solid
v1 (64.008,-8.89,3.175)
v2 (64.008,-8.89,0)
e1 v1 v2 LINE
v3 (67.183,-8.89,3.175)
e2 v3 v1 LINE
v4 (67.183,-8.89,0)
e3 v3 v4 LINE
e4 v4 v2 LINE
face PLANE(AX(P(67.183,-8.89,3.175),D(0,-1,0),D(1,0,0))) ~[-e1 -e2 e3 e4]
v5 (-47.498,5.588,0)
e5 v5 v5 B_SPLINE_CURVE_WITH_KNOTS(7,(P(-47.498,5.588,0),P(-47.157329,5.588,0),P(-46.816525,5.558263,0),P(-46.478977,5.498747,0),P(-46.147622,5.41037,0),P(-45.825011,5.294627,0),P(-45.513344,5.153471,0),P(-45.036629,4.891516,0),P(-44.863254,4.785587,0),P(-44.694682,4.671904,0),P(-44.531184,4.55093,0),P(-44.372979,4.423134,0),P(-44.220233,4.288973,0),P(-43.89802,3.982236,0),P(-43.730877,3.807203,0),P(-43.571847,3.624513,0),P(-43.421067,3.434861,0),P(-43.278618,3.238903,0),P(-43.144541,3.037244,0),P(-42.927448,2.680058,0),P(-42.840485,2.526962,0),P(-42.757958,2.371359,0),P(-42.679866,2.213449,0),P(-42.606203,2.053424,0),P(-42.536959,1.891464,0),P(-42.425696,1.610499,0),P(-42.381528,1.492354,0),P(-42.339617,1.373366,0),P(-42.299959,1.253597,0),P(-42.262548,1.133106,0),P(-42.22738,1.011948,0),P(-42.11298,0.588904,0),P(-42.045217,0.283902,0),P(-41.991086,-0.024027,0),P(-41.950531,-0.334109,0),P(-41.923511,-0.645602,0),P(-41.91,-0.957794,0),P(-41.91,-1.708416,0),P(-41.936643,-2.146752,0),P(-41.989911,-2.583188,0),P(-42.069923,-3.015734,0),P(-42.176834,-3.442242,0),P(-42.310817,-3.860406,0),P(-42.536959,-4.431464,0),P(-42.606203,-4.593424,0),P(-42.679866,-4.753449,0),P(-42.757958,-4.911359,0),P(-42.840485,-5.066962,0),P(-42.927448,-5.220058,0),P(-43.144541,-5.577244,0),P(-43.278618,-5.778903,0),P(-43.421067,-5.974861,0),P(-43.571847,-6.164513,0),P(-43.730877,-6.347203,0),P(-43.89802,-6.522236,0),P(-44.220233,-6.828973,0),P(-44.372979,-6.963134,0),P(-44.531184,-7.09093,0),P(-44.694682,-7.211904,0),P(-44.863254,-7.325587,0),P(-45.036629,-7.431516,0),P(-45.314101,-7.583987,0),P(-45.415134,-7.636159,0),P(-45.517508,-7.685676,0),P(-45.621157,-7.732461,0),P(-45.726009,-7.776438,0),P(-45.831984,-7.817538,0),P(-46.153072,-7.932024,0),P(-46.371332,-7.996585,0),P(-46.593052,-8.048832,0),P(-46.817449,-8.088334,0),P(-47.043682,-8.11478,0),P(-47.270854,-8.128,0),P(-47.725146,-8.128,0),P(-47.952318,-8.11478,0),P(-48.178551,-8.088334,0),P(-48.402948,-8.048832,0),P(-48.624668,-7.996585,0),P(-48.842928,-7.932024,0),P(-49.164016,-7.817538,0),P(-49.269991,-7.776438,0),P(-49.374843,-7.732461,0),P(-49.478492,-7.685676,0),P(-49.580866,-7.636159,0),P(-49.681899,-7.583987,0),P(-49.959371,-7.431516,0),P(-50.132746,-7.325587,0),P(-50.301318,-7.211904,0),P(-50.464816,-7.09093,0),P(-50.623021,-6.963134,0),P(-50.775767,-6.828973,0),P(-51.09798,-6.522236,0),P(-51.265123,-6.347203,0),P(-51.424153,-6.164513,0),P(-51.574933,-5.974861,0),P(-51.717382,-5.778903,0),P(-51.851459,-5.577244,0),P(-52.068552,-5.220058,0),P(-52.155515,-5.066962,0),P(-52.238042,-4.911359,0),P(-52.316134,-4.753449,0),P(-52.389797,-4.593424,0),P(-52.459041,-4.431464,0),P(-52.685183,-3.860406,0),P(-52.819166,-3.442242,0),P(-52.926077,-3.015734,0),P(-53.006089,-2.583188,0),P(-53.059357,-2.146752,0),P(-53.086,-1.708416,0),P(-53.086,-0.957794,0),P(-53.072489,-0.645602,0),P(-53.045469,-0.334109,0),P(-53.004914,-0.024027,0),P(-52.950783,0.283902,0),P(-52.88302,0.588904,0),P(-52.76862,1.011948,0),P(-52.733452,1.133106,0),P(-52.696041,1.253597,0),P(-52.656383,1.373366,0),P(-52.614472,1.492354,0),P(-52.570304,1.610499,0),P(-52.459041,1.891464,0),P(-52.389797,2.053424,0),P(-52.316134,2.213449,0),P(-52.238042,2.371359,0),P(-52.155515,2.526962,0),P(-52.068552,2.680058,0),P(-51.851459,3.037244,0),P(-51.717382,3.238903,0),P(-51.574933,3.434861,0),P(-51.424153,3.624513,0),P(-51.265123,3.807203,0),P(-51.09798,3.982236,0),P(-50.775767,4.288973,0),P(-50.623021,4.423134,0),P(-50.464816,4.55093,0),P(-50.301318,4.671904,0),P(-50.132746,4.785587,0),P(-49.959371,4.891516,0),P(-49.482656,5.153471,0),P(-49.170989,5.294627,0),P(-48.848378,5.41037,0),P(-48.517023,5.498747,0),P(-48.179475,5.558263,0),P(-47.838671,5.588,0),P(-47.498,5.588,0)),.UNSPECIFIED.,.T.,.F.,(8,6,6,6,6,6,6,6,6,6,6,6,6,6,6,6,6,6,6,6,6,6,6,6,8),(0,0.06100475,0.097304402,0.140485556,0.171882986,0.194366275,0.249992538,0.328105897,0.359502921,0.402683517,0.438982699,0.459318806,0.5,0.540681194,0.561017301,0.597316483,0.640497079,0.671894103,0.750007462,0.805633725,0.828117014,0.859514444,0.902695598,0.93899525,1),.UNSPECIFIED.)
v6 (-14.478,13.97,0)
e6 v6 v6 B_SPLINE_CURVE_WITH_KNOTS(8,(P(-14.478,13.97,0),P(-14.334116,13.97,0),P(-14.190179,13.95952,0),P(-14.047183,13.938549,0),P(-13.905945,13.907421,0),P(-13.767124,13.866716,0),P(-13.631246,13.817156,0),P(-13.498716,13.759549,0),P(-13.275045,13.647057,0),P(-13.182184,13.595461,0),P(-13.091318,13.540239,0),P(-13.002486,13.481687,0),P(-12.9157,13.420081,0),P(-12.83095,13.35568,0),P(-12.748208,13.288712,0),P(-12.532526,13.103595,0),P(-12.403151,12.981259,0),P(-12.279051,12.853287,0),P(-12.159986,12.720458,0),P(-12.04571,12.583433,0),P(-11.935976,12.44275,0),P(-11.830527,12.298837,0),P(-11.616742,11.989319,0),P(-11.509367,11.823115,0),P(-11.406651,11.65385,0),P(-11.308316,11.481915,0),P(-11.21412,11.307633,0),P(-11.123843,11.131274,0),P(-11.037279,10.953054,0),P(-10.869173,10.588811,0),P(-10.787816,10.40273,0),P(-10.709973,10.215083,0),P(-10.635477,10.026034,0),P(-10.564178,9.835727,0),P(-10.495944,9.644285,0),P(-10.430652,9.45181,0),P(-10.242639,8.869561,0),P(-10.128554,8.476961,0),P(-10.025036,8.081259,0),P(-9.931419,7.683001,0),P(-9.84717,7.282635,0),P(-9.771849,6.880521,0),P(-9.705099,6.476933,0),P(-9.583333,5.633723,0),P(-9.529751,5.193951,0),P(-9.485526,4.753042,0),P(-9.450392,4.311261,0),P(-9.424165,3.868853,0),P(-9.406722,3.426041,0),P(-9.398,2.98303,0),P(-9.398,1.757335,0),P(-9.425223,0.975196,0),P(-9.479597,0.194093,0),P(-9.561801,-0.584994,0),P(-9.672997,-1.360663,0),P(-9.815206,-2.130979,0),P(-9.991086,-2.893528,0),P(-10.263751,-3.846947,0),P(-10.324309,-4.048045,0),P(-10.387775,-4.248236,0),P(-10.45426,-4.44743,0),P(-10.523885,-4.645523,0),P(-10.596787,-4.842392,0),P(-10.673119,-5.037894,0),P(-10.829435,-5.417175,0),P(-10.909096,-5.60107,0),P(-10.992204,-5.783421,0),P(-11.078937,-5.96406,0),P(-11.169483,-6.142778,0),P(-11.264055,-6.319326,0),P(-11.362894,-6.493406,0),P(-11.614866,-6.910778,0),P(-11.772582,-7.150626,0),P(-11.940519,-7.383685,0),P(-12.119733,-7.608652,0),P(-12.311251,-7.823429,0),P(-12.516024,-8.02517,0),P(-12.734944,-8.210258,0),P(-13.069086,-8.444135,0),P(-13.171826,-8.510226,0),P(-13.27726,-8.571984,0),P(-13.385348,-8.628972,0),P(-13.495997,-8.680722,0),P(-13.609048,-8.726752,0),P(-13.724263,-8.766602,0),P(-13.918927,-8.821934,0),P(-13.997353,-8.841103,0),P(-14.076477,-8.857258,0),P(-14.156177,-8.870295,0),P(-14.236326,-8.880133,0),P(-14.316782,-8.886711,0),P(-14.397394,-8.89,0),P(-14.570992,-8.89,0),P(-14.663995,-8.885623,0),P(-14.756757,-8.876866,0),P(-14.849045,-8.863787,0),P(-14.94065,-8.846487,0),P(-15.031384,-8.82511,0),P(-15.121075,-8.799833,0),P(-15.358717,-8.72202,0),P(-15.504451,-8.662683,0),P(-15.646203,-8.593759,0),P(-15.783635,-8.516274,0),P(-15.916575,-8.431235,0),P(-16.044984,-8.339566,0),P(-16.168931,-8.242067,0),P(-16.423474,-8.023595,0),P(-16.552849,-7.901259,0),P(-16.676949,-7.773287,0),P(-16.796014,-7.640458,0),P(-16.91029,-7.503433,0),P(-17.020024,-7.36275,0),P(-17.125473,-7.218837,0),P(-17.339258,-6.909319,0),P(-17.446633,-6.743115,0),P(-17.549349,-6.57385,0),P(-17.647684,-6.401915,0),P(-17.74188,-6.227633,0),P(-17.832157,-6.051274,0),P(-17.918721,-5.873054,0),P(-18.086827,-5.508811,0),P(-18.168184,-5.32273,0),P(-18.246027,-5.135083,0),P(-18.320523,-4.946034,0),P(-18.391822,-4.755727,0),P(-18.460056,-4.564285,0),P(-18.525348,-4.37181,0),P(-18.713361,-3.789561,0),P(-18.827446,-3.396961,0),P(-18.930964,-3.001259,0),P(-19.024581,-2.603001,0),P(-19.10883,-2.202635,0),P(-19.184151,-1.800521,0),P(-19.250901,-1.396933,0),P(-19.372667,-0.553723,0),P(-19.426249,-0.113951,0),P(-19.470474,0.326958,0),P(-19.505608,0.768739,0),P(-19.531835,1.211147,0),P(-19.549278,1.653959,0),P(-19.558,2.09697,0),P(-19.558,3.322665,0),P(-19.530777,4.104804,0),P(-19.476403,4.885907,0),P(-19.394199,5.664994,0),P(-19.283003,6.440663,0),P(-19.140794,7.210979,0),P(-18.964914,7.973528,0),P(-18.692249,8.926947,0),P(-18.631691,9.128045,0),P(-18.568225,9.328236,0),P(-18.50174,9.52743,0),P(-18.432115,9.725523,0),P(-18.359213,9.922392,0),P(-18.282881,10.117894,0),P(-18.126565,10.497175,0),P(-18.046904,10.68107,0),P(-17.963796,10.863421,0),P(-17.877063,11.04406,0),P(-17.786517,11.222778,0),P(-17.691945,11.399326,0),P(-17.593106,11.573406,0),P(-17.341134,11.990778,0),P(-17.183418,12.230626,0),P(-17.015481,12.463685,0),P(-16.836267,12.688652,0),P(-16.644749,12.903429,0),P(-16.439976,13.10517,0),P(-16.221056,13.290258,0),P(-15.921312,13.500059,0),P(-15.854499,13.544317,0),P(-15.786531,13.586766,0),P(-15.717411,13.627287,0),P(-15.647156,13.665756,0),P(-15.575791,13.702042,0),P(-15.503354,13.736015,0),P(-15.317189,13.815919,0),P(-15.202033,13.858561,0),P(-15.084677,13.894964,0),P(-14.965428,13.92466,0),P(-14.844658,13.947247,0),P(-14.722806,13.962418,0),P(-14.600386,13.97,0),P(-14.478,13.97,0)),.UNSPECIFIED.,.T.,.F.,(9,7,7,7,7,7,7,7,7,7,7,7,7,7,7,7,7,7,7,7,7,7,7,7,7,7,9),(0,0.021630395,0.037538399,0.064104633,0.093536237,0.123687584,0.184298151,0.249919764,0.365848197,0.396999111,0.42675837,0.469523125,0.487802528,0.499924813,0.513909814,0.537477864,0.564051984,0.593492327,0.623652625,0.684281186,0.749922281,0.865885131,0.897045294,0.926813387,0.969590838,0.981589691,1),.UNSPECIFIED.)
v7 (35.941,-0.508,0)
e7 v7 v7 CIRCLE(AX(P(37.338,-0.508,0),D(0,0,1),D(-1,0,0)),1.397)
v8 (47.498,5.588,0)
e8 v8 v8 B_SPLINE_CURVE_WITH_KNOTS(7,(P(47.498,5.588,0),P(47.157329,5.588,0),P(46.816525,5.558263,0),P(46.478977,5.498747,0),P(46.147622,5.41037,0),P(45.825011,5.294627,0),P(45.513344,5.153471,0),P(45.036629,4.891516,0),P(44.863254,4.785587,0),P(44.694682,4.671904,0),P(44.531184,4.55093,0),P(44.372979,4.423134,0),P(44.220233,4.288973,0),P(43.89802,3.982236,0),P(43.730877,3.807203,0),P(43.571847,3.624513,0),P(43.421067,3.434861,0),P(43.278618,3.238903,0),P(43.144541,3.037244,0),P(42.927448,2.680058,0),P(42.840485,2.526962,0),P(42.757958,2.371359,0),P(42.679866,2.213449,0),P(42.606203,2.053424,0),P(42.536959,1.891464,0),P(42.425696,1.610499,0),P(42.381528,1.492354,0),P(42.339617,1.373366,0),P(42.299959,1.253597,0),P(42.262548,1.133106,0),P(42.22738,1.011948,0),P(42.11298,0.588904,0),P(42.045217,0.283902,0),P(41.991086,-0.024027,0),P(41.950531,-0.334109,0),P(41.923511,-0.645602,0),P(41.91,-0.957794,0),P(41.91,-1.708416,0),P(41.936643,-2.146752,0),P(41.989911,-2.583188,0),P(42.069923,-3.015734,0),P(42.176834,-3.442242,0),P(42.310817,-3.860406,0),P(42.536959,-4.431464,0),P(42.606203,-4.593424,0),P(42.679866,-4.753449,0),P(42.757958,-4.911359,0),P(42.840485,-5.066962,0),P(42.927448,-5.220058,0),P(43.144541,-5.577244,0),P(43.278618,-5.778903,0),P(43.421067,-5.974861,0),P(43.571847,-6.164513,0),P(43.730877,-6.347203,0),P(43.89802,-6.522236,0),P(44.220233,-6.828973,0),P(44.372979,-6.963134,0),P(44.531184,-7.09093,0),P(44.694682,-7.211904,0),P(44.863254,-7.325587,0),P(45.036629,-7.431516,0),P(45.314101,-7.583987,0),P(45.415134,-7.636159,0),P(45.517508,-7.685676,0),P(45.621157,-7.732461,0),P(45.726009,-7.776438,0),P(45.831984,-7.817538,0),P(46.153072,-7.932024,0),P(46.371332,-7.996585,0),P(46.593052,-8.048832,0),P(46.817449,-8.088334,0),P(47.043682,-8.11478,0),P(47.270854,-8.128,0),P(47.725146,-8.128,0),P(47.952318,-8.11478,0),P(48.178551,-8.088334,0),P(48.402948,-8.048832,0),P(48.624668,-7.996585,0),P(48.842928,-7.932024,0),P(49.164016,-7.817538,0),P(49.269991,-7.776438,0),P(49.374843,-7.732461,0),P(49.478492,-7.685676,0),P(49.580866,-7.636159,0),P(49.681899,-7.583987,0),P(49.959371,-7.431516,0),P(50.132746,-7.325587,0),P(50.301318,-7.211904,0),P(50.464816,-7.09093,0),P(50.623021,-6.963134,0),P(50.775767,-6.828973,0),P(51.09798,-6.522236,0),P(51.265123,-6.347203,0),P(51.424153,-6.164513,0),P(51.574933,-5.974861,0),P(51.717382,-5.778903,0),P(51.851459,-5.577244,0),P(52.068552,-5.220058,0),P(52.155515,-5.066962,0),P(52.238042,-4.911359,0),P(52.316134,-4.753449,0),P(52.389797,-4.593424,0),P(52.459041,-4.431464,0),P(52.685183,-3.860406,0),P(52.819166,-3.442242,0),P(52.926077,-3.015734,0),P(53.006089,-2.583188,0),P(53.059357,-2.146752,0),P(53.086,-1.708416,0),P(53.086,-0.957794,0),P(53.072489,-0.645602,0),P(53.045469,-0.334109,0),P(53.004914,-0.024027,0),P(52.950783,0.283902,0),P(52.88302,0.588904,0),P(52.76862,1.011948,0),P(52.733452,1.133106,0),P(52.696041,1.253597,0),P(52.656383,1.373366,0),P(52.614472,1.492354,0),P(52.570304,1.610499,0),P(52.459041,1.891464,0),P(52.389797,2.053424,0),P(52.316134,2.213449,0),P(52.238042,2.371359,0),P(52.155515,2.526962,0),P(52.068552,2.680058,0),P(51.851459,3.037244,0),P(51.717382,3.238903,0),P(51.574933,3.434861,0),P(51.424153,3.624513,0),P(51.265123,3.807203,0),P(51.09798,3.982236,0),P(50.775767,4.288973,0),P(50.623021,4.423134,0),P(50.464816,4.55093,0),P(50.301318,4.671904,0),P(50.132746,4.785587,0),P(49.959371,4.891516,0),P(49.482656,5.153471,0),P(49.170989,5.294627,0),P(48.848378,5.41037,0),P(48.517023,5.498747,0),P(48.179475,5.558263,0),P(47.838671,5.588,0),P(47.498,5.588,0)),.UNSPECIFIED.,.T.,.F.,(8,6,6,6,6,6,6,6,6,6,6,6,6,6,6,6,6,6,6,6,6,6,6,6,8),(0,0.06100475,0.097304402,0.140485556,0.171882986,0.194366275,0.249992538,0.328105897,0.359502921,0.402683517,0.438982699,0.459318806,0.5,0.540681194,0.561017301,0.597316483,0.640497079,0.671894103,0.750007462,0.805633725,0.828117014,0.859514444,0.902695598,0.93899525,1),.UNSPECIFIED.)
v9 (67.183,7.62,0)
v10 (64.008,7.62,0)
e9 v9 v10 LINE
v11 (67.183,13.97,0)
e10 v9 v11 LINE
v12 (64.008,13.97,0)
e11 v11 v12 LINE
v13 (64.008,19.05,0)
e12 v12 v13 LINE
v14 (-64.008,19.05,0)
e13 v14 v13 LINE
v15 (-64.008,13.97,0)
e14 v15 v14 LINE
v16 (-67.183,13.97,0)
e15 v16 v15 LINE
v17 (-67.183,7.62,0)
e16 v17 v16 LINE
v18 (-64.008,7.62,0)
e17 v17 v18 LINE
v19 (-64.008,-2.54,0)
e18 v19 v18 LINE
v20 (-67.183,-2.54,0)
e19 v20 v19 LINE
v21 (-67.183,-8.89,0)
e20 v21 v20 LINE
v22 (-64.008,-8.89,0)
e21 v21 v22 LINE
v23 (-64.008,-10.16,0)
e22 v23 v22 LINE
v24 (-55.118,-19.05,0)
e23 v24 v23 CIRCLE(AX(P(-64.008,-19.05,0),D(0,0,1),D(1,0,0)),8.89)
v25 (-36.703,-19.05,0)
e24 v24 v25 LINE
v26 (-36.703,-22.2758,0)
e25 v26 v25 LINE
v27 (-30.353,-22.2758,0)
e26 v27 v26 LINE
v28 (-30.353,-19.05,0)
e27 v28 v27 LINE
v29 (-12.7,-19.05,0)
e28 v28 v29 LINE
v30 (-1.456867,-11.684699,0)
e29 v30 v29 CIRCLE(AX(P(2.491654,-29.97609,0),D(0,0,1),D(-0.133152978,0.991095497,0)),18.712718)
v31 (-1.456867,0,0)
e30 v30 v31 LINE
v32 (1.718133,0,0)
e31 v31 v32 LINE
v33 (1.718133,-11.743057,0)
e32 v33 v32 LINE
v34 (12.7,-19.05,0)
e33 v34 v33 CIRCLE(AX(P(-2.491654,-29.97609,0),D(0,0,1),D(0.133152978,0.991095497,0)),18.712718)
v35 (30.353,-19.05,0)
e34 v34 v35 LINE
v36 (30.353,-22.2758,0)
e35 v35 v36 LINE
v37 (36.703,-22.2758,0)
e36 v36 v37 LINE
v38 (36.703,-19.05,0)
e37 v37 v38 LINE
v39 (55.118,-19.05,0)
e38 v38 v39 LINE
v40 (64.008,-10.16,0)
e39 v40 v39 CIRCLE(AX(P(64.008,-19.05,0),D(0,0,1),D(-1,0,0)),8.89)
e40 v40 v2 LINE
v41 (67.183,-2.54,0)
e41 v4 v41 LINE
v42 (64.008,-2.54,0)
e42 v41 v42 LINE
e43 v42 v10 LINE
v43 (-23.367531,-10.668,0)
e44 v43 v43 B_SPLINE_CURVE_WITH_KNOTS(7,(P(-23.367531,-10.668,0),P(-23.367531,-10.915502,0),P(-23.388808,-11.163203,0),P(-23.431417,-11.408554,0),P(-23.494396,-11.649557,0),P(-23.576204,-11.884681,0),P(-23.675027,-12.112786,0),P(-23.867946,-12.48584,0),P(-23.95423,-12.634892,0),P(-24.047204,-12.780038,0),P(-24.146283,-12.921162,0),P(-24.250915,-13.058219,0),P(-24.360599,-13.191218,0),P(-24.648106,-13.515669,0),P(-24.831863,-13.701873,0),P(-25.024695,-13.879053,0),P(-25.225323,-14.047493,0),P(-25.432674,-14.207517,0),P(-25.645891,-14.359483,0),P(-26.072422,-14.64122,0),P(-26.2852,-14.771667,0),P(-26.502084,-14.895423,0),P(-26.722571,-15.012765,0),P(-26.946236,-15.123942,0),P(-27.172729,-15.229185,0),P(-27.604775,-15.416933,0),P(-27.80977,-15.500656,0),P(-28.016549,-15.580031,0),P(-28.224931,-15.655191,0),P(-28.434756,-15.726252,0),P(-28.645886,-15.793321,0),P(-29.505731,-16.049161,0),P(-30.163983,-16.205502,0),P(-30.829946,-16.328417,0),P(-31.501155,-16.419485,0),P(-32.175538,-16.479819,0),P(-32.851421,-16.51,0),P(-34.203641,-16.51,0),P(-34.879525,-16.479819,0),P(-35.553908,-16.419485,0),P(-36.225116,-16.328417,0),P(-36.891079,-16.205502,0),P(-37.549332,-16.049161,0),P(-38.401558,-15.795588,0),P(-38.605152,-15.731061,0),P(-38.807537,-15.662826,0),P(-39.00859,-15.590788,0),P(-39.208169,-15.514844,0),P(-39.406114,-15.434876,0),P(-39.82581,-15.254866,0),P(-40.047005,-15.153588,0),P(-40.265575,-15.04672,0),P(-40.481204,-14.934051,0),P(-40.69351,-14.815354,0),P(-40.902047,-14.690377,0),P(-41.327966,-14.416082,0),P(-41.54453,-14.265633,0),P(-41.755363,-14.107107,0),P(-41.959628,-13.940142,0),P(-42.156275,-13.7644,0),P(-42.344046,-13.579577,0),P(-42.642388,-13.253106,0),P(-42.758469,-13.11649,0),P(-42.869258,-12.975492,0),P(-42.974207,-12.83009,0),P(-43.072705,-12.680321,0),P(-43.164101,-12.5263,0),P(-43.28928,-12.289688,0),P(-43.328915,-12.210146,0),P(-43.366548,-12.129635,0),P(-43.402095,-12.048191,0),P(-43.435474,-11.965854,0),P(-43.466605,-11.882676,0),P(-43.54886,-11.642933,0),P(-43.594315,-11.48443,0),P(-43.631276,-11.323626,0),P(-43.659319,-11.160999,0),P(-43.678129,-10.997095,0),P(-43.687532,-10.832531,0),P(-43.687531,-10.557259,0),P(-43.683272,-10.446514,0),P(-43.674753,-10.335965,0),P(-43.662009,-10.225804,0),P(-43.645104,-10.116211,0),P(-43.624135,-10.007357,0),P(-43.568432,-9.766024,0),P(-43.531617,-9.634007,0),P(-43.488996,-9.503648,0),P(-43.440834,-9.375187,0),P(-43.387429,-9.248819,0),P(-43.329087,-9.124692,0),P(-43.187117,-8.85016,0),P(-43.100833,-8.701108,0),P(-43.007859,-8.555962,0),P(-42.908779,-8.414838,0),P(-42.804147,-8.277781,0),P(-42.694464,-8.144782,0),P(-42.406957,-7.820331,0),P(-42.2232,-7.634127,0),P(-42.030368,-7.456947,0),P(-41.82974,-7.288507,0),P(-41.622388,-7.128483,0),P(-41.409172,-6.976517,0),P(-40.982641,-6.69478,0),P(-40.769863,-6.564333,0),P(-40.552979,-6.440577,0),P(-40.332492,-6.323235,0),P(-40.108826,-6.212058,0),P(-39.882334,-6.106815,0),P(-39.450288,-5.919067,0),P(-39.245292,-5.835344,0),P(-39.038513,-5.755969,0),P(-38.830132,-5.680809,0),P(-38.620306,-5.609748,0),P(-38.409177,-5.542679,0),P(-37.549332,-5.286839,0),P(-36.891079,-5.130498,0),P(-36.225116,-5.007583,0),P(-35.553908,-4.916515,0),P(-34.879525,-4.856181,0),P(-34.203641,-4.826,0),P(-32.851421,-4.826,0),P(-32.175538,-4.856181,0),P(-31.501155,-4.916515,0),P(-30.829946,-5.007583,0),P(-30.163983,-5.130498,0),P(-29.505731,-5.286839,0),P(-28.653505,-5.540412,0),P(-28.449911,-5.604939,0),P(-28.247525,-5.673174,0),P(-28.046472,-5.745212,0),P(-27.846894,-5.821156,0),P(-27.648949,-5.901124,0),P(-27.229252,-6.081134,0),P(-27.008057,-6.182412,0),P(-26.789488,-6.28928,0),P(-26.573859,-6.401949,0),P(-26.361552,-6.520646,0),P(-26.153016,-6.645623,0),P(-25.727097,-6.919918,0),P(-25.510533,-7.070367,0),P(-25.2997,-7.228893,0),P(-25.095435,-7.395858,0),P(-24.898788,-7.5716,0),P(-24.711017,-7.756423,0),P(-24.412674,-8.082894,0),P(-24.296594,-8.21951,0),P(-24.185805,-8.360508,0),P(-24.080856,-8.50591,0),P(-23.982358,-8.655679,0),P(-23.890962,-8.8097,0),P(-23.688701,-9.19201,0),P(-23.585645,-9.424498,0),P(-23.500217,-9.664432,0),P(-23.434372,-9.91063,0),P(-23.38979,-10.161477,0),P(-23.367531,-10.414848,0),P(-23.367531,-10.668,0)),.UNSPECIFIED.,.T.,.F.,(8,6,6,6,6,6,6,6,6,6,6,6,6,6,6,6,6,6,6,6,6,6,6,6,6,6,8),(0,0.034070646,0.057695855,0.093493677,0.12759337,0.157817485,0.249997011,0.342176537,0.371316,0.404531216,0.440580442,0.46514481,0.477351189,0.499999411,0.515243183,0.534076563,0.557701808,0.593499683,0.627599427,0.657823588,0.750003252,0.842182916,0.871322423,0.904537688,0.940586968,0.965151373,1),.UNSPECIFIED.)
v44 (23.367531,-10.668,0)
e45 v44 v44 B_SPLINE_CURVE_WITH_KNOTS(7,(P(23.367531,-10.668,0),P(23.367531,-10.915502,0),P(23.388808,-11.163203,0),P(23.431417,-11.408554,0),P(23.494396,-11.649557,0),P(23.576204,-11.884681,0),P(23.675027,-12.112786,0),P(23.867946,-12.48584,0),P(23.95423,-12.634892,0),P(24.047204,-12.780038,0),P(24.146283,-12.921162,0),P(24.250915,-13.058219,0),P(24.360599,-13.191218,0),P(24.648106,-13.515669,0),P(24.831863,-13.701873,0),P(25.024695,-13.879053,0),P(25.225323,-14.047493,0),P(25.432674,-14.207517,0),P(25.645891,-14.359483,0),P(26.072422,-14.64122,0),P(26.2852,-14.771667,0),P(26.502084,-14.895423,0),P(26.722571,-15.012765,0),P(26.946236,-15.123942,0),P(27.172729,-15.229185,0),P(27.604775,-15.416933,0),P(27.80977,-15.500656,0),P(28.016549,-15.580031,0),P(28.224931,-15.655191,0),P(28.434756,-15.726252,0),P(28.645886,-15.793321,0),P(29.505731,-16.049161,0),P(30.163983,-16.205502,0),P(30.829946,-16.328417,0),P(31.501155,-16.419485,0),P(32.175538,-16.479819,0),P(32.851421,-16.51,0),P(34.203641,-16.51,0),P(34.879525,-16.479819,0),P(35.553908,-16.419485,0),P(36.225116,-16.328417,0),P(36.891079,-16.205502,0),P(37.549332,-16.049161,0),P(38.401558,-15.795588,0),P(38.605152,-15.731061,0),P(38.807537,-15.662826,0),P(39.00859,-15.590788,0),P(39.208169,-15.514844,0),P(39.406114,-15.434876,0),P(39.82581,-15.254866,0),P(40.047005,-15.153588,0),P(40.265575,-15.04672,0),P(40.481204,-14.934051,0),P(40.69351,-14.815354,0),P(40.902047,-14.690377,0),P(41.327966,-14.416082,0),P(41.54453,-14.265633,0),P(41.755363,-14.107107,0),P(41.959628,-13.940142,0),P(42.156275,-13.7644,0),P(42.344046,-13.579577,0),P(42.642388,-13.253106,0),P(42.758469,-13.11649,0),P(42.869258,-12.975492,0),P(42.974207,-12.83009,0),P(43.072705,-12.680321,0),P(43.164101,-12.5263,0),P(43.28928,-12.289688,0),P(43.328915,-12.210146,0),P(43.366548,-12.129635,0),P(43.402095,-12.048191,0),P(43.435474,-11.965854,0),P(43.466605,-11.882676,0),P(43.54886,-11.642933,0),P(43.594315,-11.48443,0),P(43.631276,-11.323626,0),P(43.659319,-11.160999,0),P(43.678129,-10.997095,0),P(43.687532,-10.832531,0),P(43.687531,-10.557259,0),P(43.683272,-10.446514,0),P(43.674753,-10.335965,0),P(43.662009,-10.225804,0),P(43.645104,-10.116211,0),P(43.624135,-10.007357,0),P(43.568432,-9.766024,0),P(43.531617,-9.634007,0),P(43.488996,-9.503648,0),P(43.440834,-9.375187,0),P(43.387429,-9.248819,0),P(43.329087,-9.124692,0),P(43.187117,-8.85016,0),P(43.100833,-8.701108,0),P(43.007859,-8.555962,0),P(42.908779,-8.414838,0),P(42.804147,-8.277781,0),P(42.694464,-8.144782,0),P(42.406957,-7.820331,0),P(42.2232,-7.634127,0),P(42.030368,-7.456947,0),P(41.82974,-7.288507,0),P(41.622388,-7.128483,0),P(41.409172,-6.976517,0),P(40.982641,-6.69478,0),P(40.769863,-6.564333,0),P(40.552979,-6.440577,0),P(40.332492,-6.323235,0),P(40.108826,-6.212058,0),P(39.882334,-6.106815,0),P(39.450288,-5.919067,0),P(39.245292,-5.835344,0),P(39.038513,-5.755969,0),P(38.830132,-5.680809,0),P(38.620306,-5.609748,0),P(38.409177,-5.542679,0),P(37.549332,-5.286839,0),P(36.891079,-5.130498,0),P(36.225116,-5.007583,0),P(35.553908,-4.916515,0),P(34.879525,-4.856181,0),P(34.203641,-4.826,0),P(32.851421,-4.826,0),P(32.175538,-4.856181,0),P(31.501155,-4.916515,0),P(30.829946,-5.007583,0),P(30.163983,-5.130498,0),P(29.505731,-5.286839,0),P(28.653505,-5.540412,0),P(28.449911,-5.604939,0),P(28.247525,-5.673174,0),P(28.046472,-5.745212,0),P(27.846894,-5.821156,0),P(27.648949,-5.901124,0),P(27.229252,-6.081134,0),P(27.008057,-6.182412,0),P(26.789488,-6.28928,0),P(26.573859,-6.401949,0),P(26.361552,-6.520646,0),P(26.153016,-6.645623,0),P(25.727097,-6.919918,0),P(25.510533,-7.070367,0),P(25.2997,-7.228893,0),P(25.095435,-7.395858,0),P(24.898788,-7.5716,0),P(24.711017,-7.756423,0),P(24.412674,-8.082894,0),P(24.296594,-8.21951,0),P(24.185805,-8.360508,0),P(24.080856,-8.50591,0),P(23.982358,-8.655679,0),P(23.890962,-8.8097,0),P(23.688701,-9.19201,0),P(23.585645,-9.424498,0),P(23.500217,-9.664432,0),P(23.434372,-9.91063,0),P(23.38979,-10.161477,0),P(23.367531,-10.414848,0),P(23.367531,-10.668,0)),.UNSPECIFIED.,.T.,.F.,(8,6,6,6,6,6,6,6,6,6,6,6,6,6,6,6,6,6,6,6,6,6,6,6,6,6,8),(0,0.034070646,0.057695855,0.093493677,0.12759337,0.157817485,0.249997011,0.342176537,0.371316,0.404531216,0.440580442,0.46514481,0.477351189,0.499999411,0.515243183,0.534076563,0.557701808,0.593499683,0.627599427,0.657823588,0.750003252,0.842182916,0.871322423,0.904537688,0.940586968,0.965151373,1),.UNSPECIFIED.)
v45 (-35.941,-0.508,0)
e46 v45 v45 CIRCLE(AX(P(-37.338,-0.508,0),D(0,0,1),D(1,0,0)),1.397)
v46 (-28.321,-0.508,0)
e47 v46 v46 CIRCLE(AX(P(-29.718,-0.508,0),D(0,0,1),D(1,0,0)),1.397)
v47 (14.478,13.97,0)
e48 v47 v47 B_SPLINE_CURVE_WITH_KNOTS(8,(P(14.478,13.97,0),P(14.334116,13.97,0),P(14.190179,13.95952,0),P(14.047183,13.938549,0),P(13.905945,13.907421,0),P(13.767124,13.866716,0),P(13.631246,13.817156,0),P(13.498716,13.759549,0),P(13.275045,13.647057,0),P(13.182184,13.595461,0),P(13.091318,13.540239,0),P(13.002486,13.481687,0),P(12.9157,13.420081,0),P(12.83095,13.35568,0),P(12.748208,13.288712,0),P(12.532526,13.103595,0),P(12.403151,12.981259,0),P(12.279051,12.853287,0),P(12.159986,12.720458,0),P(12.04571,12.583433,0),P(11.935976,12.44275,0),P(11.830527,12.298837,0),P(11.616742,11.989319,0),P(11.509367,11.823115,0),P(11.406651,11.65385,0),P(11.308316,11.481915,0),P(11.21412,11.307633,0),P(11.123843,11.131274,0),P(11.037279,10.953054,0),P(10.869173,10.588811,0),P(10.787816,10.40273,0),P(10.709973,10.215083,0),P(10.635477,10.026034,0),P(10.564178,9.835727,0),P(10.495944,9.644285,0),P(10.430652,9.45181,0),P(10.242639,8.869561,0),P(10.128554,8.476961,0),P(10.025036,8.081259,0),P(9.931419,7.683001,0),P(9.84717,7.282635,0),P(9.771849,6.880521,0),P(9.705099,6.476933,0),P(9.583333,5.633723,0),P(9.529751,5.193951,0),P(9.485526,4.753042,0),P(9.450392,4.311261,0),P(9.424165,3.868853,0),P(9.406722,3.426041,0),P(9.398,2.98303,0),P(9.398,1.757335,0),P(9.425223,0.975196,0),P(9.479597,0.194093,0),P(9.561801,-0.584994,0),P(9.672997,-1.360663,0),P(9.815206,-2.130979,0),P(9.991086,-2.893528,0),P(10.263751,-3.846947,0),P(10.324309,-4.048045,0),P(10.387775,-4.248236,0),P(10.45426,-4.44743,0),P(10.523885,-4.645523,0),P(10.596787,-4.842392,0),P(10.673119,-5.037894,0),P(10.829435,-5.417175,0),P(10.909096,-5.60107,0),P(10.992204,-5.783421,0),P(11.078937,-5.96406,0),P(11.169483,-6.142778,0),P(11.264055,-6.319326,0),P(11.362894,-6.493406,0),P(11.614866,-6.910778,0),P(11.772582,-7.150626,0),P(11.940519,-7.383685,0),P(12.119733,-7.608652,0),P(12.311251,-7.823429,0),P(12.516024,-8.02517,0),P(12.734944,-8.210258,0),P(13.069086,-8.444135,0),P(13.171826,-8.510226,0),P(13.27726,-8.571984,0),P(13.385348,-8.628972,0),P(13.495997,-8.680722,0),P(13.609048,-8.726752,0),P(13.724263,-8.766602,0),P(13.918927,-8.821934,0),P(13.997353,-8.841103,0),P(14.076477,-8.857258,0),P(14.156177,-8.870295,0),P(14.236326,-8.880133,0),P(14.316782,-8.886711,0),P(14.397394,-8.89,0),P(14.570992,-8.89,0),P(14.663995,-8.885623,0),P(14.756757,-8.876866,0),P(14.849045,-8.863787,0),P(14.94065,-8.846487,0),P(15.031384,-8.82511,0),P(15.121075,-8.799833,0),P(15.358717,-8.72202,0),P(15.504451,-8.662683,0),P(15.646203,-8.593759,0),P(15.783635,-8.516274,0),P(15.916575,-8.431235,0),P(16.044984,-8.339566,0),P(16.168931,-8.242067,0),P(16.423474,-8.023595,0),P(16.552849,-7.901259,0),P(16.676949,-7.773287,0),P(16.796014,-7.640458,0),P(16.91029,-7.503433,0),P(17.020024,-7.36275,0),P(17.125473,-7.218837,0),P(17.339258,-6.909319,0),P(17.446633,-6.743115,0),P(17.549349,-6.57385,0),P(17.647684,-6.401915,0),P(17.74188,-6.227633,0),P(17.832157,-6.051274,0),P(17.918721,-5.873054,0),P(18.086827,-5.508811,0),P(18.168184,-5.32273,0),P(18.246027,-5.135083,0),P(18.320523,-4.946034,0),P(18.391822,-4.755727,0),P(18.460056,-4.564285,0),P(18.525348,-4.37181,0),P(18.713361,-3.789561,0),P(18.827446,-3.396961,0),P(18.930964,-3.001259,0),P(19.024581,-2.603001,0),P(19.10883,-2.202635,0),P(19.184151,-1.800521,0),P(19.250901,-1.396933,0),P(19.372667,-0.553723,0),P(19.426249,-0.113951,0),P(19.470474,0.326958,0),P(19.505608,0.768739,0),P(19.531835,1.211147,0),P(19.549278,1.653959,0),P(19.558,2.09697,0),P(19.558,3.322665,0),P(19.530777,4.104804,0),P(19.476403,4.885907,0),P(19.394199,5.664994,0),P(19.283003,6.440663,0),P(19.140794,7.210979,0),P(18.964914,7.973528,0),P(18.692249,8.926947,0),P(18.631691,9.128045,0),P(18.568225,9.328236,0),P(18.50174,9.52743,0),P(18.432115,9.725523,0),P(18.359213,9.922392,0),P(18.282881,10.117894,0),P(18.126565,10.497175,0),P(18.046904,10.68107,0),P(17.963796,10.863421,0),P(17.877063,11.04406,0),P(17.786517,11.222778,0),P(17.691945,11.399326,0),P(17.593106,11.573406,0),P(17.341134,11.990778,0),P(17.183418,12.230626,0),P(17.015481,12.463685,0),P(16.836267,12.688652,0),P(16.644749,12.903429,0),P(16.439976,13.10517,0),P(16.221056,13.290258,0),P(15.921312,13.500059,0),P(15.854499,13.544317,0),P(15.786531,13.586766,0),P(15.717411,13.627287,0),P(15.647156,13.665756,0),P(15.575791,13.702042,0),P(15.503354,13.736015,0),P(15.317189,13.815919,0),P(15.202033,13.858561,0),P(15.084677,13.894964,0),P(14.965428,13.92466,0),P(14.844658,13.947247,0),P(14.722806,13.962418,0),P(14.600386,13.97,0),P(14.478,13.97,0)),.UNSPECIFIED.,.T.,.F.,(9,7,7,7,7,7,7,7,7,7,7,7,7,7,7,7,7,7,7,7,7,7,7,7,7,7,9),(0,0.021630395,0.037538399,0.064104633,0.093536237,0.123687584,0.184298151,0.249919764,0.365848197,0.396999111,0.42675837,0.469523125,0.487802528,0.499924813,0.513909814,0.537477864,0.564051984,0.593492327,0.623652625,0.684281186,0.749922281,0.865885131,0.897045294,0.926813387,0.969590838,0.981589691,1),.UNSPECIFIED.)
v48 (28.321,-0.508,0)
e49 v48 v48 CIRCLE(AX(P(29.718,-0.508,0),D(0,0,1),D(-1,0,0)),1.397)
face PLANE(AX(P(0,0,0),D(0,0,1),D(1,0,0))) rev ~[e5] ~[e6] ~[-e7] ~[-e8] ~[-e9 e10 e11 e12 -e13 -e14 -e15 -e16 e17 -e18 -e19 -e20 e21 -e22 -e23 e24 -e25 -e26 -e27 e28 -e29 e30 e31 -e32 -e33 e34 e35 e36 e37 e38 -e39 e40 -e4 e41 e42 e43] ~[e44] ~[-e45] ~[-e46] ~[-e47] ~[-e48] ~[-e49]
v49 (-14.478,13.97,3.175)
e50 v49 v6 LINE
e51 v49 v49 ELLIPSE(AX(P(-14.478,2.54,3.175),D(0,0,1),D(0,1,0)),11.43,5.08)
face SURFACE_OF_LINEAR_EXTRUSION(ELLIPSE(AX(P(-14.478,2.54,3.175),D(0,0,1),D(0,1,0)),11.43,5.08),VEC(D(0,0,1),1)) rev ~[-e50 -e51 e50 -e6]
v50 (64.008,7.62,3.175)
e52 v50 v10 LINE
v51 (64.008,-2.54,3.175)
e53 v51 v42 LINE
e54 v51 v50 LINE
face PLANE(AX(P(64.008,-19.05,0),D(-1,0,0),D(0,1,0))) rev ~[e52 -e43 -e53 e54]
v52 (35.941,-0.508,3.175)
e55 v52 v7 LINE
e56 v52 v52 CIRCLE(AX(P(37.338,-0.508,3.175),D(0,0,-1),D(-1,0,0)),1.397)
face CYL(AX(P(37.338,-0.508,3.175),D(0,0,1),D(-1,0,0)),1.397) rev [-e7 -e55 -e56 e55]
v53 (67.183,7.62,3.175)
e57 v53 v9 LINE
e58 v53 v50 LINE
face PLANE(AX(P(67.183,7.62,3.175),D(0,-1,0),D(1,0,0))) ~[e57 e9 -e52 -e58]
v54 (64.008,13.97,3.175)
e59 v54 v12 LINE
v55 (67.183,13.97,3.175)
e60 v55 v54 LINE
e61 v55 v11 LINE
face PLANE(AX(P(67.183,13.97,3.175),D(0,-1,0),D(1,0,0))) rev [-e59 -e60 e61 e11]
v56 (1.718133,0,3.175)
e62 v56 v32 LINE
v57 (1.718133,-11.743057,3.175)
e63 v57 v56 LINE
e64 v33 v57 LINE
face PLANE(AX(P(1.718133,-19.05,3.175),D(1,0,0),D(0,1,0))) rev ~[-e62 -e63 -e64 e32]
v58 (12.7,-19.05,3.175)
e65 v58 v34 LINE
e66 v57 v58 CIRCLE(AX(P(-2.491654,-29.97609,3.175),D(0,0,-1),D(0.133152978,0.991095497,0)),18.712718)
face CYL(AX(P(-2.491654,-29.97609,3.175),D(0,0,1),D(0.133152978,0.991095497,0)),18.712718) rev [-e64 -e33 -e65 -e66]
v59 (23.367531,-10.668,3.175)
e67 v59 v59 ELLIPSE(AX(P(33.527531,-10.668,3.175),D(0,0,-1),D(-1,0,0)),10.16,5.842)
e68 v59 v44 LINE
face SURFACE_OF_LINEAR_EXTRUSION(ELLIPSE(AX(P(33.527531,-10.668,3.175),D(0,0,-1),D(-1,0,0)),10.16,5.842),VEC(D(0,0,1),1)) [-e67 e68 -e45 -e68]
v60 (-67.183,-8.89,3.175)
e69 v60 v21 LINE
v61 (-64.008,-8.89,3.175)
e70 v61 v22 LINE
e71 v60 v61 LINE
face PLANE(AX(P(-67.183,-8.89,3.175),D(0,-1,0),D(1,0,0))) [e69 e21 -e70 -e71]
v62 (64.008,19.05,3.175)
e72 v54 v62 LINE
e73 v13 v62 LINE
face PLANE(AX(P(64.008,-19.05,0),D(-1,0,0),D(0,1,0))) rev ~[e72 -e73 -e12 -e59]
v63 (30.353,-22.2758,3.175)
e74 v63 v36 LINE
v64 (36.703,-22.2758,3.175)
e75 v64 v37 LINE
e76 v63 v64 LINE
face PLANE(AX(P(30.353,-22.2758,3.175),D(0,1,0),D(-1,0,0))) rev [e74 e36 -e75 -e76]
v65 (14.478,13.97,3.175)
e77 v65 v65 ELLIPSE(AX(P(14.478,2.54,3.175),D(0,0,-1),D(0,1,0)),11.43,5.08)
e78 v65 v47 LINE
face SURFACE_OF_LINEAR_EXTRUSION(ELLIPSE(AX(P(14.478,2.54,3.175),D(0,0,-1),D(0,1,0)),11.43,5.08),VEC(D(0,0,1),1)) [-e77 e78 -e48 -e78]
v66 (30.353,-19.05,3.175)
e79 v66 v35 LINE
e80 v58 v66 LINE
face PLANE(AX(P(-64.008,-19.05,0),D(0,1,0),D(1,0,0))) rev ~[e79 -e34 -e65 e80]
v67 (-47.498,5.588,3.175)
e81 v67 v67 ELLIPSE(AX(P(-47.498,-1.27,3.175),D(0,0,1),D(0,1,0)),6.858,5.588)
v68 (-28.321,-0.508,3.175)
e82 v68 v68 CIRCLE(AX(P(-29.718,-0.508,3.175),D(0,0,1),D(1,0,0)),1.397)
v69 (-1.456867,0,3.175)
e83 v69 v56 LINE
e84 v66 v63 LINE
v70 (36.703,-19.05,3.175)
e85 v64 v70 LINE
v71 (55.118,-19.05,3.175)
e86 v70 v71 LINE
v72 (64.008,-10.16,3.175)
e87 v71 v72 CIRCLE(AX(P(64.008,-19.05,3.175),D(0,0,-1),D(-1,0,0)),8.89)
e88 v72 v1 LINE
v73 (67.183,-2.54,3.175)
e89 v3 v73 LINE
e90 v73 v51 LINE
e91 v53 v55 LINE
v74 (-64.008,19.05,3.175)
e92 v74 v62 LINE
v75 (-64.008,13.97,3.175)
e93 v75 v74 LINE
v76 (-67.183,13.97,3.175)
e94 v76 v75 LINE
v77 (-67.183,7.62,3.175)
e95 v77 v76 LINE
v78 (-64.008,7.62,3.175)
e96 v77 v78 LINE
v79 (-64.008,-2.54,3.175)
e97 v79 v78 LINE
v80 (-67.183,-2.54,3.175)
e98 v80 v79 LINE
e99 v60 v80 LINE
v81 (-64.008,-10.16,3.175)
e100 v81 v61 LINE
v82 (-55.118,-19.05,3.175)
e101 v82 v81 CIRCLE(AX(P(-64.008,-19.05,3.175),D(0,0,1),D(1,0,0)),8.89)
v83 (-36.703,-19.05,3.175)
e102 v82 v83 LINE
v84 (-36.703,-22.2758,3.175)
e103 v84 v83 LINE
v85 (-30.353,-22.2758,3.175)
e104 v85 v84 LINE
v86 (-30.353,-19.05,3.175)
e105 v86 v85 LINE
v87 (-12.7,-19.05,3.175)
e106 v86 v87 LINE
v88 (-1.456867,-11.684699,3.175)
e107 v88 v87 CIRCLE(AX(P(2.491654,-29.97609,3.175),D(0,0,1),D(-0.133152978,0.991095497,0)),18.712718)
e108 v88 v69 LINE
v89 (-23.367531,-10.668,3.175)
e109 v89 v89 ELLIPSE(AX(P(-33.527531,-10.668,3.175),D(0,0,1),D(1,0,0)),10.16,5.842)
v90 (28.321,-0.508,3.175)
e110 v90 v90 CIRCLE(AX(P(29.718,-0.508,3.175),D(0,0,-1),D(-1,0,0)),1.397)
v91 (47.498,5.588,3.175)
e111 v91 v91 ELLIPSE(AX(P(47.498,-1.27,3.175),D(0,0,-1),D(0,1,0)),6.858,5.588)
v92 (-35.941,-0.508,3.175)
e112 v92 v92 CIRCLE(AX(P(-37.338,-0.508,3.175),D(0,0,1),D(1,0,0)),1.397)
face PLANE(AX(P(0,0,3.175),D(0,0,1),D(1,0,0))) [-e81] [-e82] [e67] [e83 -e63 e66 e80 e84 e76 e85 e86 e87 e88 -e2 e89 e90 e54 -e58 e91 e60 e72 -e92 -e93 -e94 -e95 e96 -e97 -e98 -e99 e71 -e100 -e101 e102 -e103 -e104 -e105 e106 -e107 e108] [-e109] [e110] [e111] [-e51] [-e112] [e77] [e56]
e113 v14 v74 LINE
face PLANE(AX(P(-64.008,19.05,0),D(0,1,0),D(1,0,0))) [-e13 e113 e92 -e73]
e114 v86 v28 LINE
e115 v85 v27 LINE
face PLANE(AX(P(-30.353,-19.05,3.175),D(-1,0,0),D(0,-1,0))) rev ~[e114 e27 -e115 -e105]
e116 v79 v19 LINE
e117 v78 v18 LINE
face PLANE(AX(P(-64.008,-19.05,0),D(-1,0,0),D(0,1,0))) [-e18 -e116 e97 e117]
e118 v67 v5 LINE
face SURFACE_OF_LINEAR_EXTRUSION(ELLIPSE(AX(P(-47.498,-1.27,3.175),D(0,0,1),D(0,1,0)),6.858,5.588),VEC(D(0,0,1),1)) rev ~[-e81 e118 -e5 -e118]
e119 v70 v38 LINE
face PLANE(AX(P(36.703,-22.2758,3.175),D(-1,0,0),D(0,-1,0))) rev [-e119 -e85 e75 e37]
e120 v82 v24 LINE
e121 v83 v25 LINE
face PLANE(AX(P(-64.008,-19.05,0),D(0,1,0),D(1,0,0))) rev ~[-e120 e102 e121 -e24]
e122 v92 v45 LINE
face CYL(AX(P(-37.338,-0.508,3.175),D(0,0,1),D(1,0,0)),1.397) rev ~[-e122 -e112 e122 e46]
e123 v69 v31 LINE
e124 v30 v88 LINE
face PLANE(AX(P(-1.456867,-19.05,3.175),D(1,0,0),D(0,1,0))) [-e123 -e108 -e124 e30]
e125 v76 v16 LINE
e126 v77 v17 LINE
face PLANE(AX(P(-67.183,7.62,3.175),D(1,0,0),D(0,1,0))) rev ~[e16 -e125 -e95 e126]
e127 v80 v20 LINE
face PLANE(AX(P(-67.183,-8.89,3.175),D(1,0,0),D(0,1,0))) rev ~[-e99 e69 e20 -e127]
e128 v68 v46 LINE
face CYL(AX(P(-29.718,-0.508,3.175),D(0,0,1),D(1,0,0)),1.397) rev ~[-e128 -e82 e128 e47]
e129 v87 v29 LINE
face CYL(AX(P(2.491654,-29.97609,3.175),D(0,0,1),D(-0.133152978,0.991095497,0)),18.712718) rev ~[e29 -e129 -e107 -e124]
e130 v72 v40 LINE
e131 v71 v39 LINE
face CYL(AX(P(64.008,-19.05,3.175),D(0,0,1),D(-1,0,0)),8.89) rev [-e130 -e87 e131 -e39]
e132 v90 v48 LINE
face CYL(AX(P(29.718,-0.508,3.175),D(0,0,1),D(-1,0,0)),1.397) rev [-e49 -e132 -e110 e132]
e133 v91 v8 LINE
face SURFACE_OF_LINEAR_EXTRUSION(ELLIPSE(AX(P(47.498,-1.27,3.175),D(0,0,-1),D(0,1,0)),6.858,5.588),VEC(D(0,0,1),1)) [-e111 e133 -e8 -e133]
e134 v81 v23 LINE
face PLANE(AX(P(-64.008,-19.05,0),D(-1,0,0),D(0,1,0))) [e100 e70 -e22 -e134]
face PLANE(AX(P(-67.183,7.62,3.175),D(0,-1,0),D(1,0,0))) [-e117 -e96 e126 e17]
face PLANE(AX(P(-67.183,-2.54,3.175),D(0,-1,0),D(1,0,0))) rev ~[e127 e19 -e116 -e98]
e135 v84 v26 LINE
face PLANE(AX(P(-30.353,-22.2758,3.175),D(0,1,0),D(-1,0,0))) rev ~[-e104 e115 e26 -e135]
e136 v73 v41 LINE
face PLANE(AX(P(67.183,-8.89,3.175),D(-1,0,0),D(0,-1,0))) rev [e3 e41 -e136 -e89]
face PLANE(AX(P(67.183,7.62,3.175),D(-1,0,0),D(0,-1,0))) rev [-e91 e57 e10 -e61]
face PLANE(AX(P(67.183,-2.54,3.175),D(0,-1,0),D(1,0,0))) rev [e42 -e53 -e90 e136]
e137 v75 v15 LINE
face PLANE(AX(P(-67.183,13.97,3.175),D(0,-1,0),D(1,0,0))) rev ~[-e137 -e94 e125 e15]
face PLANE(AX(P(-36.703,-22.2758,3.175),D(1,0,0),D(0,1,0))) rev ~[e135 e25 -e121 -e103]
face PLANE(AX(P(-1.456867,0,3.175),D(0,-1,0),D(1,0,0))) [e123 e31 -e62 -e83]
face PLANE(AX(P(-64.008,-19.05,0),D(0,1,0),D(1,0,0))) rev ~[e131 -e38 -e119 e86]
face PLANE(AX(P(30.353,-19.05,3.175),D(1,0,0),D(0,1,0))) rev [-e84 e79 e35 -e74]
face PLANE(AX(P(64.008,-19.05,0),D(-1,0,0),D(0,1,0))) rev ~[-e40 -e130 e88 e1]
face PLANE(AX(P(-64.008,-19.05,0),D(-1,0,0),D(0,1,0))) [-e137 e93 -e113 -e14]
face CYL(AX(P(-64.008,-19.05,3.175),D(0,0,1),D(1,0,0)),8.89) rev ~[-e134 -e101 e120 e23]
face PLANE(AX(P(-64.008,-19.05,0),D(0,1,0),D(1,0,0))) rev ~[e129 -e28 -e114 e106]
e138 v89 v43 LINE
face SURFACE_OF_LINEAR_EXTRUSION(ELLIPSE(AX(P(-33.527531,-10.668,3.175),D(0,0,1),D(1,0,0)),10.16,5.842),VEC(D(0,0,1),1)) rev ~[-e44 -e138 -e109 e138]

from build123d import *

# Parameters (mm, degrees)
SKETCH1_W                         = 128.016
SKETCH1_H                         = 38.1
MAIN_BODY_DEPTH                   = 3.175
SKETCH2_R                         = 1.397
UBRACKET_HOLES_DEPTH              = 4.175
SKETCH3_W                         = 3.175
SKETCH3_H                         = 6.35
TABS_DEPTH                        = 3.175
SKETCH4_RX                        = 11.43
SKETCH4_RY                        = 5.08
SKETCH4_RX_2                      = 10.16
SKETCH4_RY_2                      = 5.842
SKETCH4_RX_3                      = 6.858
SKETCH4_RY_3                      = 5.588
HOLES_FOR_CONTROL_ARMS_DEPTH      = 4.175
SKETCH5_W                         = 3.175
SKETCH5_H                         = 19.05
SLOT_FOR_NOSE_PANEL_DEPTH         = 4.1750001
CUT_CORNER_FOR_SCREW_ACCESS_DEPTH = 4.1750001


with BuildPart() as part:
    # Sketch1 → main body (new body)
    with BuildSketch(Plane.XY):
        Rectangle(SKETCH1_W, SKETCH1_H)
    extrude(amount=MAIN_BODY_DEPTH)

    # Sketch2 → ubracket holes (cut, through all)
    with BuildSketch(Plane.XY.offset(3.175)):
        with Locations((-29.718, -0.508)):
            Circle(SKETCH2_R)
        with Locations((-37.338, -0.508)):
            Circle(SKETCH2_R)
    ubracket_holes = extrude(amount=-UBRACKET_HOLES_DEPTH, mode=Mode.SUBTRACT)

    # Sketch3 → tabs (add)
    with BuildSketch(Plane.XY.offset(3.175)):
        with Locations((-65.5955, 10.795)):
            Rectangle(SKETCH3_W, SKETCH3_H)
        with Locations((-65.5955, -5.715)):
            Rectangle(SKETCH3_W, SKETCH3_H)
        Polygon((-33.528, -19.05), (-30.353, -19.05), (-30.353, -22.2758), (-36.703, -22.2758), (-36.703, -19.05), align=None)
    tabs = extrude(amount=-TABS_DEPTH)

    # Sketch4 → holes for control arms (cut, through all)
    with BuildSketch(Plane.XY.offset(3.175)):
        with Locations(Location((-14.478, 2.54), (0, 0, 90))):
            Ellipse(SKETCH4_RX, SKETCH4_RY)
        with Locations((-33.527531332, -10.668)):
            Ellipse(SKETCH4_RX_2, SKETCH4_RY_2)
        with Locations(Location((-47.498, -1.27), (0, 0, 90))):
            Ellipse(SKETCH4_RX_3, SKETCH4_RY_3)
    holes_for_control_arms = extrude(amount=-HOLES_FOR_CONTROL_ARMS_DEPTH, mode=Mode.SUBTRACT)

    # mirror of ubracket holes: ubracket holes across plane
    add(ubracket_holes.mirror(Plane(origin=(0, 0, 0), x_dir=(0, 0, 1), z_dir=(1, 0, 0))), mode=Mode.SUBTRACT)

    # mirror of tabs: tabs across plane
    add(tabs.mirror(Plane(origin=(0, 0, 0), x_dir=(0, 0, 1), z_dir=(1, 0, 0))))

    # Mirror3: holes for control arms across plane
    add(holes_for_control_arms.mirror(Plane(origin=(0, 0, 0), x_dir=(0, 0, 1), z_dir=(1, 0, 0))), mode=Mode.SUBTRACT)

    # Sketch5 → slot for nose panel (cut, through all)
    with BuildSketch(Plane.XY.offset(3.175)):
        with Locations((0.130633012, -9.525)):
            Rectangle(SKETCH5_W, SKETCH5_H)
    extrude(amount=-SLOT_FOR_NOSE_PANEL_DEPTH, mode=Mode.SUBTRACT)

    # Sketch6 → cut corner for screw access (cut, through all)
    with BuildSketch(Plane.XY.offset(3.175)):
        with BuildLine():
            Line((0, -19.05), (0, -11.43))
            ThreePointArc((0, -11.43), (-7.135959689, -13.930067184), (-12.7, -19.05))
            Line((-12.7, -19.05), (0, -19.05))
        make_face()
        with BuildLine():
            Line((-64.008, -19.05), (-55.118, -19.05))
            ThreePointArc((-55.118, -19.05), (-57.721820715, -12.763820715), (-64.008, -10.16))
            Line((-64.008, -10.16), (-64.008, -19.05))
        make_face()
    cut_corner_for_screw_access = extrude(amount=-CUT_CORNER_FOR_SCREW_ACCESS_DEPTH, mode=Mode.SUBTRACT)

    # Mirror4: cut corner for screw access across plane
    add(cut_corner_for_screw_access.mirror(Plane(origin=(0, 0, 0), x_dir=(0, 0, 1), z_dir=(1, 0, 0))), mode=Mode.SUBTRACT)


solid = part.part
